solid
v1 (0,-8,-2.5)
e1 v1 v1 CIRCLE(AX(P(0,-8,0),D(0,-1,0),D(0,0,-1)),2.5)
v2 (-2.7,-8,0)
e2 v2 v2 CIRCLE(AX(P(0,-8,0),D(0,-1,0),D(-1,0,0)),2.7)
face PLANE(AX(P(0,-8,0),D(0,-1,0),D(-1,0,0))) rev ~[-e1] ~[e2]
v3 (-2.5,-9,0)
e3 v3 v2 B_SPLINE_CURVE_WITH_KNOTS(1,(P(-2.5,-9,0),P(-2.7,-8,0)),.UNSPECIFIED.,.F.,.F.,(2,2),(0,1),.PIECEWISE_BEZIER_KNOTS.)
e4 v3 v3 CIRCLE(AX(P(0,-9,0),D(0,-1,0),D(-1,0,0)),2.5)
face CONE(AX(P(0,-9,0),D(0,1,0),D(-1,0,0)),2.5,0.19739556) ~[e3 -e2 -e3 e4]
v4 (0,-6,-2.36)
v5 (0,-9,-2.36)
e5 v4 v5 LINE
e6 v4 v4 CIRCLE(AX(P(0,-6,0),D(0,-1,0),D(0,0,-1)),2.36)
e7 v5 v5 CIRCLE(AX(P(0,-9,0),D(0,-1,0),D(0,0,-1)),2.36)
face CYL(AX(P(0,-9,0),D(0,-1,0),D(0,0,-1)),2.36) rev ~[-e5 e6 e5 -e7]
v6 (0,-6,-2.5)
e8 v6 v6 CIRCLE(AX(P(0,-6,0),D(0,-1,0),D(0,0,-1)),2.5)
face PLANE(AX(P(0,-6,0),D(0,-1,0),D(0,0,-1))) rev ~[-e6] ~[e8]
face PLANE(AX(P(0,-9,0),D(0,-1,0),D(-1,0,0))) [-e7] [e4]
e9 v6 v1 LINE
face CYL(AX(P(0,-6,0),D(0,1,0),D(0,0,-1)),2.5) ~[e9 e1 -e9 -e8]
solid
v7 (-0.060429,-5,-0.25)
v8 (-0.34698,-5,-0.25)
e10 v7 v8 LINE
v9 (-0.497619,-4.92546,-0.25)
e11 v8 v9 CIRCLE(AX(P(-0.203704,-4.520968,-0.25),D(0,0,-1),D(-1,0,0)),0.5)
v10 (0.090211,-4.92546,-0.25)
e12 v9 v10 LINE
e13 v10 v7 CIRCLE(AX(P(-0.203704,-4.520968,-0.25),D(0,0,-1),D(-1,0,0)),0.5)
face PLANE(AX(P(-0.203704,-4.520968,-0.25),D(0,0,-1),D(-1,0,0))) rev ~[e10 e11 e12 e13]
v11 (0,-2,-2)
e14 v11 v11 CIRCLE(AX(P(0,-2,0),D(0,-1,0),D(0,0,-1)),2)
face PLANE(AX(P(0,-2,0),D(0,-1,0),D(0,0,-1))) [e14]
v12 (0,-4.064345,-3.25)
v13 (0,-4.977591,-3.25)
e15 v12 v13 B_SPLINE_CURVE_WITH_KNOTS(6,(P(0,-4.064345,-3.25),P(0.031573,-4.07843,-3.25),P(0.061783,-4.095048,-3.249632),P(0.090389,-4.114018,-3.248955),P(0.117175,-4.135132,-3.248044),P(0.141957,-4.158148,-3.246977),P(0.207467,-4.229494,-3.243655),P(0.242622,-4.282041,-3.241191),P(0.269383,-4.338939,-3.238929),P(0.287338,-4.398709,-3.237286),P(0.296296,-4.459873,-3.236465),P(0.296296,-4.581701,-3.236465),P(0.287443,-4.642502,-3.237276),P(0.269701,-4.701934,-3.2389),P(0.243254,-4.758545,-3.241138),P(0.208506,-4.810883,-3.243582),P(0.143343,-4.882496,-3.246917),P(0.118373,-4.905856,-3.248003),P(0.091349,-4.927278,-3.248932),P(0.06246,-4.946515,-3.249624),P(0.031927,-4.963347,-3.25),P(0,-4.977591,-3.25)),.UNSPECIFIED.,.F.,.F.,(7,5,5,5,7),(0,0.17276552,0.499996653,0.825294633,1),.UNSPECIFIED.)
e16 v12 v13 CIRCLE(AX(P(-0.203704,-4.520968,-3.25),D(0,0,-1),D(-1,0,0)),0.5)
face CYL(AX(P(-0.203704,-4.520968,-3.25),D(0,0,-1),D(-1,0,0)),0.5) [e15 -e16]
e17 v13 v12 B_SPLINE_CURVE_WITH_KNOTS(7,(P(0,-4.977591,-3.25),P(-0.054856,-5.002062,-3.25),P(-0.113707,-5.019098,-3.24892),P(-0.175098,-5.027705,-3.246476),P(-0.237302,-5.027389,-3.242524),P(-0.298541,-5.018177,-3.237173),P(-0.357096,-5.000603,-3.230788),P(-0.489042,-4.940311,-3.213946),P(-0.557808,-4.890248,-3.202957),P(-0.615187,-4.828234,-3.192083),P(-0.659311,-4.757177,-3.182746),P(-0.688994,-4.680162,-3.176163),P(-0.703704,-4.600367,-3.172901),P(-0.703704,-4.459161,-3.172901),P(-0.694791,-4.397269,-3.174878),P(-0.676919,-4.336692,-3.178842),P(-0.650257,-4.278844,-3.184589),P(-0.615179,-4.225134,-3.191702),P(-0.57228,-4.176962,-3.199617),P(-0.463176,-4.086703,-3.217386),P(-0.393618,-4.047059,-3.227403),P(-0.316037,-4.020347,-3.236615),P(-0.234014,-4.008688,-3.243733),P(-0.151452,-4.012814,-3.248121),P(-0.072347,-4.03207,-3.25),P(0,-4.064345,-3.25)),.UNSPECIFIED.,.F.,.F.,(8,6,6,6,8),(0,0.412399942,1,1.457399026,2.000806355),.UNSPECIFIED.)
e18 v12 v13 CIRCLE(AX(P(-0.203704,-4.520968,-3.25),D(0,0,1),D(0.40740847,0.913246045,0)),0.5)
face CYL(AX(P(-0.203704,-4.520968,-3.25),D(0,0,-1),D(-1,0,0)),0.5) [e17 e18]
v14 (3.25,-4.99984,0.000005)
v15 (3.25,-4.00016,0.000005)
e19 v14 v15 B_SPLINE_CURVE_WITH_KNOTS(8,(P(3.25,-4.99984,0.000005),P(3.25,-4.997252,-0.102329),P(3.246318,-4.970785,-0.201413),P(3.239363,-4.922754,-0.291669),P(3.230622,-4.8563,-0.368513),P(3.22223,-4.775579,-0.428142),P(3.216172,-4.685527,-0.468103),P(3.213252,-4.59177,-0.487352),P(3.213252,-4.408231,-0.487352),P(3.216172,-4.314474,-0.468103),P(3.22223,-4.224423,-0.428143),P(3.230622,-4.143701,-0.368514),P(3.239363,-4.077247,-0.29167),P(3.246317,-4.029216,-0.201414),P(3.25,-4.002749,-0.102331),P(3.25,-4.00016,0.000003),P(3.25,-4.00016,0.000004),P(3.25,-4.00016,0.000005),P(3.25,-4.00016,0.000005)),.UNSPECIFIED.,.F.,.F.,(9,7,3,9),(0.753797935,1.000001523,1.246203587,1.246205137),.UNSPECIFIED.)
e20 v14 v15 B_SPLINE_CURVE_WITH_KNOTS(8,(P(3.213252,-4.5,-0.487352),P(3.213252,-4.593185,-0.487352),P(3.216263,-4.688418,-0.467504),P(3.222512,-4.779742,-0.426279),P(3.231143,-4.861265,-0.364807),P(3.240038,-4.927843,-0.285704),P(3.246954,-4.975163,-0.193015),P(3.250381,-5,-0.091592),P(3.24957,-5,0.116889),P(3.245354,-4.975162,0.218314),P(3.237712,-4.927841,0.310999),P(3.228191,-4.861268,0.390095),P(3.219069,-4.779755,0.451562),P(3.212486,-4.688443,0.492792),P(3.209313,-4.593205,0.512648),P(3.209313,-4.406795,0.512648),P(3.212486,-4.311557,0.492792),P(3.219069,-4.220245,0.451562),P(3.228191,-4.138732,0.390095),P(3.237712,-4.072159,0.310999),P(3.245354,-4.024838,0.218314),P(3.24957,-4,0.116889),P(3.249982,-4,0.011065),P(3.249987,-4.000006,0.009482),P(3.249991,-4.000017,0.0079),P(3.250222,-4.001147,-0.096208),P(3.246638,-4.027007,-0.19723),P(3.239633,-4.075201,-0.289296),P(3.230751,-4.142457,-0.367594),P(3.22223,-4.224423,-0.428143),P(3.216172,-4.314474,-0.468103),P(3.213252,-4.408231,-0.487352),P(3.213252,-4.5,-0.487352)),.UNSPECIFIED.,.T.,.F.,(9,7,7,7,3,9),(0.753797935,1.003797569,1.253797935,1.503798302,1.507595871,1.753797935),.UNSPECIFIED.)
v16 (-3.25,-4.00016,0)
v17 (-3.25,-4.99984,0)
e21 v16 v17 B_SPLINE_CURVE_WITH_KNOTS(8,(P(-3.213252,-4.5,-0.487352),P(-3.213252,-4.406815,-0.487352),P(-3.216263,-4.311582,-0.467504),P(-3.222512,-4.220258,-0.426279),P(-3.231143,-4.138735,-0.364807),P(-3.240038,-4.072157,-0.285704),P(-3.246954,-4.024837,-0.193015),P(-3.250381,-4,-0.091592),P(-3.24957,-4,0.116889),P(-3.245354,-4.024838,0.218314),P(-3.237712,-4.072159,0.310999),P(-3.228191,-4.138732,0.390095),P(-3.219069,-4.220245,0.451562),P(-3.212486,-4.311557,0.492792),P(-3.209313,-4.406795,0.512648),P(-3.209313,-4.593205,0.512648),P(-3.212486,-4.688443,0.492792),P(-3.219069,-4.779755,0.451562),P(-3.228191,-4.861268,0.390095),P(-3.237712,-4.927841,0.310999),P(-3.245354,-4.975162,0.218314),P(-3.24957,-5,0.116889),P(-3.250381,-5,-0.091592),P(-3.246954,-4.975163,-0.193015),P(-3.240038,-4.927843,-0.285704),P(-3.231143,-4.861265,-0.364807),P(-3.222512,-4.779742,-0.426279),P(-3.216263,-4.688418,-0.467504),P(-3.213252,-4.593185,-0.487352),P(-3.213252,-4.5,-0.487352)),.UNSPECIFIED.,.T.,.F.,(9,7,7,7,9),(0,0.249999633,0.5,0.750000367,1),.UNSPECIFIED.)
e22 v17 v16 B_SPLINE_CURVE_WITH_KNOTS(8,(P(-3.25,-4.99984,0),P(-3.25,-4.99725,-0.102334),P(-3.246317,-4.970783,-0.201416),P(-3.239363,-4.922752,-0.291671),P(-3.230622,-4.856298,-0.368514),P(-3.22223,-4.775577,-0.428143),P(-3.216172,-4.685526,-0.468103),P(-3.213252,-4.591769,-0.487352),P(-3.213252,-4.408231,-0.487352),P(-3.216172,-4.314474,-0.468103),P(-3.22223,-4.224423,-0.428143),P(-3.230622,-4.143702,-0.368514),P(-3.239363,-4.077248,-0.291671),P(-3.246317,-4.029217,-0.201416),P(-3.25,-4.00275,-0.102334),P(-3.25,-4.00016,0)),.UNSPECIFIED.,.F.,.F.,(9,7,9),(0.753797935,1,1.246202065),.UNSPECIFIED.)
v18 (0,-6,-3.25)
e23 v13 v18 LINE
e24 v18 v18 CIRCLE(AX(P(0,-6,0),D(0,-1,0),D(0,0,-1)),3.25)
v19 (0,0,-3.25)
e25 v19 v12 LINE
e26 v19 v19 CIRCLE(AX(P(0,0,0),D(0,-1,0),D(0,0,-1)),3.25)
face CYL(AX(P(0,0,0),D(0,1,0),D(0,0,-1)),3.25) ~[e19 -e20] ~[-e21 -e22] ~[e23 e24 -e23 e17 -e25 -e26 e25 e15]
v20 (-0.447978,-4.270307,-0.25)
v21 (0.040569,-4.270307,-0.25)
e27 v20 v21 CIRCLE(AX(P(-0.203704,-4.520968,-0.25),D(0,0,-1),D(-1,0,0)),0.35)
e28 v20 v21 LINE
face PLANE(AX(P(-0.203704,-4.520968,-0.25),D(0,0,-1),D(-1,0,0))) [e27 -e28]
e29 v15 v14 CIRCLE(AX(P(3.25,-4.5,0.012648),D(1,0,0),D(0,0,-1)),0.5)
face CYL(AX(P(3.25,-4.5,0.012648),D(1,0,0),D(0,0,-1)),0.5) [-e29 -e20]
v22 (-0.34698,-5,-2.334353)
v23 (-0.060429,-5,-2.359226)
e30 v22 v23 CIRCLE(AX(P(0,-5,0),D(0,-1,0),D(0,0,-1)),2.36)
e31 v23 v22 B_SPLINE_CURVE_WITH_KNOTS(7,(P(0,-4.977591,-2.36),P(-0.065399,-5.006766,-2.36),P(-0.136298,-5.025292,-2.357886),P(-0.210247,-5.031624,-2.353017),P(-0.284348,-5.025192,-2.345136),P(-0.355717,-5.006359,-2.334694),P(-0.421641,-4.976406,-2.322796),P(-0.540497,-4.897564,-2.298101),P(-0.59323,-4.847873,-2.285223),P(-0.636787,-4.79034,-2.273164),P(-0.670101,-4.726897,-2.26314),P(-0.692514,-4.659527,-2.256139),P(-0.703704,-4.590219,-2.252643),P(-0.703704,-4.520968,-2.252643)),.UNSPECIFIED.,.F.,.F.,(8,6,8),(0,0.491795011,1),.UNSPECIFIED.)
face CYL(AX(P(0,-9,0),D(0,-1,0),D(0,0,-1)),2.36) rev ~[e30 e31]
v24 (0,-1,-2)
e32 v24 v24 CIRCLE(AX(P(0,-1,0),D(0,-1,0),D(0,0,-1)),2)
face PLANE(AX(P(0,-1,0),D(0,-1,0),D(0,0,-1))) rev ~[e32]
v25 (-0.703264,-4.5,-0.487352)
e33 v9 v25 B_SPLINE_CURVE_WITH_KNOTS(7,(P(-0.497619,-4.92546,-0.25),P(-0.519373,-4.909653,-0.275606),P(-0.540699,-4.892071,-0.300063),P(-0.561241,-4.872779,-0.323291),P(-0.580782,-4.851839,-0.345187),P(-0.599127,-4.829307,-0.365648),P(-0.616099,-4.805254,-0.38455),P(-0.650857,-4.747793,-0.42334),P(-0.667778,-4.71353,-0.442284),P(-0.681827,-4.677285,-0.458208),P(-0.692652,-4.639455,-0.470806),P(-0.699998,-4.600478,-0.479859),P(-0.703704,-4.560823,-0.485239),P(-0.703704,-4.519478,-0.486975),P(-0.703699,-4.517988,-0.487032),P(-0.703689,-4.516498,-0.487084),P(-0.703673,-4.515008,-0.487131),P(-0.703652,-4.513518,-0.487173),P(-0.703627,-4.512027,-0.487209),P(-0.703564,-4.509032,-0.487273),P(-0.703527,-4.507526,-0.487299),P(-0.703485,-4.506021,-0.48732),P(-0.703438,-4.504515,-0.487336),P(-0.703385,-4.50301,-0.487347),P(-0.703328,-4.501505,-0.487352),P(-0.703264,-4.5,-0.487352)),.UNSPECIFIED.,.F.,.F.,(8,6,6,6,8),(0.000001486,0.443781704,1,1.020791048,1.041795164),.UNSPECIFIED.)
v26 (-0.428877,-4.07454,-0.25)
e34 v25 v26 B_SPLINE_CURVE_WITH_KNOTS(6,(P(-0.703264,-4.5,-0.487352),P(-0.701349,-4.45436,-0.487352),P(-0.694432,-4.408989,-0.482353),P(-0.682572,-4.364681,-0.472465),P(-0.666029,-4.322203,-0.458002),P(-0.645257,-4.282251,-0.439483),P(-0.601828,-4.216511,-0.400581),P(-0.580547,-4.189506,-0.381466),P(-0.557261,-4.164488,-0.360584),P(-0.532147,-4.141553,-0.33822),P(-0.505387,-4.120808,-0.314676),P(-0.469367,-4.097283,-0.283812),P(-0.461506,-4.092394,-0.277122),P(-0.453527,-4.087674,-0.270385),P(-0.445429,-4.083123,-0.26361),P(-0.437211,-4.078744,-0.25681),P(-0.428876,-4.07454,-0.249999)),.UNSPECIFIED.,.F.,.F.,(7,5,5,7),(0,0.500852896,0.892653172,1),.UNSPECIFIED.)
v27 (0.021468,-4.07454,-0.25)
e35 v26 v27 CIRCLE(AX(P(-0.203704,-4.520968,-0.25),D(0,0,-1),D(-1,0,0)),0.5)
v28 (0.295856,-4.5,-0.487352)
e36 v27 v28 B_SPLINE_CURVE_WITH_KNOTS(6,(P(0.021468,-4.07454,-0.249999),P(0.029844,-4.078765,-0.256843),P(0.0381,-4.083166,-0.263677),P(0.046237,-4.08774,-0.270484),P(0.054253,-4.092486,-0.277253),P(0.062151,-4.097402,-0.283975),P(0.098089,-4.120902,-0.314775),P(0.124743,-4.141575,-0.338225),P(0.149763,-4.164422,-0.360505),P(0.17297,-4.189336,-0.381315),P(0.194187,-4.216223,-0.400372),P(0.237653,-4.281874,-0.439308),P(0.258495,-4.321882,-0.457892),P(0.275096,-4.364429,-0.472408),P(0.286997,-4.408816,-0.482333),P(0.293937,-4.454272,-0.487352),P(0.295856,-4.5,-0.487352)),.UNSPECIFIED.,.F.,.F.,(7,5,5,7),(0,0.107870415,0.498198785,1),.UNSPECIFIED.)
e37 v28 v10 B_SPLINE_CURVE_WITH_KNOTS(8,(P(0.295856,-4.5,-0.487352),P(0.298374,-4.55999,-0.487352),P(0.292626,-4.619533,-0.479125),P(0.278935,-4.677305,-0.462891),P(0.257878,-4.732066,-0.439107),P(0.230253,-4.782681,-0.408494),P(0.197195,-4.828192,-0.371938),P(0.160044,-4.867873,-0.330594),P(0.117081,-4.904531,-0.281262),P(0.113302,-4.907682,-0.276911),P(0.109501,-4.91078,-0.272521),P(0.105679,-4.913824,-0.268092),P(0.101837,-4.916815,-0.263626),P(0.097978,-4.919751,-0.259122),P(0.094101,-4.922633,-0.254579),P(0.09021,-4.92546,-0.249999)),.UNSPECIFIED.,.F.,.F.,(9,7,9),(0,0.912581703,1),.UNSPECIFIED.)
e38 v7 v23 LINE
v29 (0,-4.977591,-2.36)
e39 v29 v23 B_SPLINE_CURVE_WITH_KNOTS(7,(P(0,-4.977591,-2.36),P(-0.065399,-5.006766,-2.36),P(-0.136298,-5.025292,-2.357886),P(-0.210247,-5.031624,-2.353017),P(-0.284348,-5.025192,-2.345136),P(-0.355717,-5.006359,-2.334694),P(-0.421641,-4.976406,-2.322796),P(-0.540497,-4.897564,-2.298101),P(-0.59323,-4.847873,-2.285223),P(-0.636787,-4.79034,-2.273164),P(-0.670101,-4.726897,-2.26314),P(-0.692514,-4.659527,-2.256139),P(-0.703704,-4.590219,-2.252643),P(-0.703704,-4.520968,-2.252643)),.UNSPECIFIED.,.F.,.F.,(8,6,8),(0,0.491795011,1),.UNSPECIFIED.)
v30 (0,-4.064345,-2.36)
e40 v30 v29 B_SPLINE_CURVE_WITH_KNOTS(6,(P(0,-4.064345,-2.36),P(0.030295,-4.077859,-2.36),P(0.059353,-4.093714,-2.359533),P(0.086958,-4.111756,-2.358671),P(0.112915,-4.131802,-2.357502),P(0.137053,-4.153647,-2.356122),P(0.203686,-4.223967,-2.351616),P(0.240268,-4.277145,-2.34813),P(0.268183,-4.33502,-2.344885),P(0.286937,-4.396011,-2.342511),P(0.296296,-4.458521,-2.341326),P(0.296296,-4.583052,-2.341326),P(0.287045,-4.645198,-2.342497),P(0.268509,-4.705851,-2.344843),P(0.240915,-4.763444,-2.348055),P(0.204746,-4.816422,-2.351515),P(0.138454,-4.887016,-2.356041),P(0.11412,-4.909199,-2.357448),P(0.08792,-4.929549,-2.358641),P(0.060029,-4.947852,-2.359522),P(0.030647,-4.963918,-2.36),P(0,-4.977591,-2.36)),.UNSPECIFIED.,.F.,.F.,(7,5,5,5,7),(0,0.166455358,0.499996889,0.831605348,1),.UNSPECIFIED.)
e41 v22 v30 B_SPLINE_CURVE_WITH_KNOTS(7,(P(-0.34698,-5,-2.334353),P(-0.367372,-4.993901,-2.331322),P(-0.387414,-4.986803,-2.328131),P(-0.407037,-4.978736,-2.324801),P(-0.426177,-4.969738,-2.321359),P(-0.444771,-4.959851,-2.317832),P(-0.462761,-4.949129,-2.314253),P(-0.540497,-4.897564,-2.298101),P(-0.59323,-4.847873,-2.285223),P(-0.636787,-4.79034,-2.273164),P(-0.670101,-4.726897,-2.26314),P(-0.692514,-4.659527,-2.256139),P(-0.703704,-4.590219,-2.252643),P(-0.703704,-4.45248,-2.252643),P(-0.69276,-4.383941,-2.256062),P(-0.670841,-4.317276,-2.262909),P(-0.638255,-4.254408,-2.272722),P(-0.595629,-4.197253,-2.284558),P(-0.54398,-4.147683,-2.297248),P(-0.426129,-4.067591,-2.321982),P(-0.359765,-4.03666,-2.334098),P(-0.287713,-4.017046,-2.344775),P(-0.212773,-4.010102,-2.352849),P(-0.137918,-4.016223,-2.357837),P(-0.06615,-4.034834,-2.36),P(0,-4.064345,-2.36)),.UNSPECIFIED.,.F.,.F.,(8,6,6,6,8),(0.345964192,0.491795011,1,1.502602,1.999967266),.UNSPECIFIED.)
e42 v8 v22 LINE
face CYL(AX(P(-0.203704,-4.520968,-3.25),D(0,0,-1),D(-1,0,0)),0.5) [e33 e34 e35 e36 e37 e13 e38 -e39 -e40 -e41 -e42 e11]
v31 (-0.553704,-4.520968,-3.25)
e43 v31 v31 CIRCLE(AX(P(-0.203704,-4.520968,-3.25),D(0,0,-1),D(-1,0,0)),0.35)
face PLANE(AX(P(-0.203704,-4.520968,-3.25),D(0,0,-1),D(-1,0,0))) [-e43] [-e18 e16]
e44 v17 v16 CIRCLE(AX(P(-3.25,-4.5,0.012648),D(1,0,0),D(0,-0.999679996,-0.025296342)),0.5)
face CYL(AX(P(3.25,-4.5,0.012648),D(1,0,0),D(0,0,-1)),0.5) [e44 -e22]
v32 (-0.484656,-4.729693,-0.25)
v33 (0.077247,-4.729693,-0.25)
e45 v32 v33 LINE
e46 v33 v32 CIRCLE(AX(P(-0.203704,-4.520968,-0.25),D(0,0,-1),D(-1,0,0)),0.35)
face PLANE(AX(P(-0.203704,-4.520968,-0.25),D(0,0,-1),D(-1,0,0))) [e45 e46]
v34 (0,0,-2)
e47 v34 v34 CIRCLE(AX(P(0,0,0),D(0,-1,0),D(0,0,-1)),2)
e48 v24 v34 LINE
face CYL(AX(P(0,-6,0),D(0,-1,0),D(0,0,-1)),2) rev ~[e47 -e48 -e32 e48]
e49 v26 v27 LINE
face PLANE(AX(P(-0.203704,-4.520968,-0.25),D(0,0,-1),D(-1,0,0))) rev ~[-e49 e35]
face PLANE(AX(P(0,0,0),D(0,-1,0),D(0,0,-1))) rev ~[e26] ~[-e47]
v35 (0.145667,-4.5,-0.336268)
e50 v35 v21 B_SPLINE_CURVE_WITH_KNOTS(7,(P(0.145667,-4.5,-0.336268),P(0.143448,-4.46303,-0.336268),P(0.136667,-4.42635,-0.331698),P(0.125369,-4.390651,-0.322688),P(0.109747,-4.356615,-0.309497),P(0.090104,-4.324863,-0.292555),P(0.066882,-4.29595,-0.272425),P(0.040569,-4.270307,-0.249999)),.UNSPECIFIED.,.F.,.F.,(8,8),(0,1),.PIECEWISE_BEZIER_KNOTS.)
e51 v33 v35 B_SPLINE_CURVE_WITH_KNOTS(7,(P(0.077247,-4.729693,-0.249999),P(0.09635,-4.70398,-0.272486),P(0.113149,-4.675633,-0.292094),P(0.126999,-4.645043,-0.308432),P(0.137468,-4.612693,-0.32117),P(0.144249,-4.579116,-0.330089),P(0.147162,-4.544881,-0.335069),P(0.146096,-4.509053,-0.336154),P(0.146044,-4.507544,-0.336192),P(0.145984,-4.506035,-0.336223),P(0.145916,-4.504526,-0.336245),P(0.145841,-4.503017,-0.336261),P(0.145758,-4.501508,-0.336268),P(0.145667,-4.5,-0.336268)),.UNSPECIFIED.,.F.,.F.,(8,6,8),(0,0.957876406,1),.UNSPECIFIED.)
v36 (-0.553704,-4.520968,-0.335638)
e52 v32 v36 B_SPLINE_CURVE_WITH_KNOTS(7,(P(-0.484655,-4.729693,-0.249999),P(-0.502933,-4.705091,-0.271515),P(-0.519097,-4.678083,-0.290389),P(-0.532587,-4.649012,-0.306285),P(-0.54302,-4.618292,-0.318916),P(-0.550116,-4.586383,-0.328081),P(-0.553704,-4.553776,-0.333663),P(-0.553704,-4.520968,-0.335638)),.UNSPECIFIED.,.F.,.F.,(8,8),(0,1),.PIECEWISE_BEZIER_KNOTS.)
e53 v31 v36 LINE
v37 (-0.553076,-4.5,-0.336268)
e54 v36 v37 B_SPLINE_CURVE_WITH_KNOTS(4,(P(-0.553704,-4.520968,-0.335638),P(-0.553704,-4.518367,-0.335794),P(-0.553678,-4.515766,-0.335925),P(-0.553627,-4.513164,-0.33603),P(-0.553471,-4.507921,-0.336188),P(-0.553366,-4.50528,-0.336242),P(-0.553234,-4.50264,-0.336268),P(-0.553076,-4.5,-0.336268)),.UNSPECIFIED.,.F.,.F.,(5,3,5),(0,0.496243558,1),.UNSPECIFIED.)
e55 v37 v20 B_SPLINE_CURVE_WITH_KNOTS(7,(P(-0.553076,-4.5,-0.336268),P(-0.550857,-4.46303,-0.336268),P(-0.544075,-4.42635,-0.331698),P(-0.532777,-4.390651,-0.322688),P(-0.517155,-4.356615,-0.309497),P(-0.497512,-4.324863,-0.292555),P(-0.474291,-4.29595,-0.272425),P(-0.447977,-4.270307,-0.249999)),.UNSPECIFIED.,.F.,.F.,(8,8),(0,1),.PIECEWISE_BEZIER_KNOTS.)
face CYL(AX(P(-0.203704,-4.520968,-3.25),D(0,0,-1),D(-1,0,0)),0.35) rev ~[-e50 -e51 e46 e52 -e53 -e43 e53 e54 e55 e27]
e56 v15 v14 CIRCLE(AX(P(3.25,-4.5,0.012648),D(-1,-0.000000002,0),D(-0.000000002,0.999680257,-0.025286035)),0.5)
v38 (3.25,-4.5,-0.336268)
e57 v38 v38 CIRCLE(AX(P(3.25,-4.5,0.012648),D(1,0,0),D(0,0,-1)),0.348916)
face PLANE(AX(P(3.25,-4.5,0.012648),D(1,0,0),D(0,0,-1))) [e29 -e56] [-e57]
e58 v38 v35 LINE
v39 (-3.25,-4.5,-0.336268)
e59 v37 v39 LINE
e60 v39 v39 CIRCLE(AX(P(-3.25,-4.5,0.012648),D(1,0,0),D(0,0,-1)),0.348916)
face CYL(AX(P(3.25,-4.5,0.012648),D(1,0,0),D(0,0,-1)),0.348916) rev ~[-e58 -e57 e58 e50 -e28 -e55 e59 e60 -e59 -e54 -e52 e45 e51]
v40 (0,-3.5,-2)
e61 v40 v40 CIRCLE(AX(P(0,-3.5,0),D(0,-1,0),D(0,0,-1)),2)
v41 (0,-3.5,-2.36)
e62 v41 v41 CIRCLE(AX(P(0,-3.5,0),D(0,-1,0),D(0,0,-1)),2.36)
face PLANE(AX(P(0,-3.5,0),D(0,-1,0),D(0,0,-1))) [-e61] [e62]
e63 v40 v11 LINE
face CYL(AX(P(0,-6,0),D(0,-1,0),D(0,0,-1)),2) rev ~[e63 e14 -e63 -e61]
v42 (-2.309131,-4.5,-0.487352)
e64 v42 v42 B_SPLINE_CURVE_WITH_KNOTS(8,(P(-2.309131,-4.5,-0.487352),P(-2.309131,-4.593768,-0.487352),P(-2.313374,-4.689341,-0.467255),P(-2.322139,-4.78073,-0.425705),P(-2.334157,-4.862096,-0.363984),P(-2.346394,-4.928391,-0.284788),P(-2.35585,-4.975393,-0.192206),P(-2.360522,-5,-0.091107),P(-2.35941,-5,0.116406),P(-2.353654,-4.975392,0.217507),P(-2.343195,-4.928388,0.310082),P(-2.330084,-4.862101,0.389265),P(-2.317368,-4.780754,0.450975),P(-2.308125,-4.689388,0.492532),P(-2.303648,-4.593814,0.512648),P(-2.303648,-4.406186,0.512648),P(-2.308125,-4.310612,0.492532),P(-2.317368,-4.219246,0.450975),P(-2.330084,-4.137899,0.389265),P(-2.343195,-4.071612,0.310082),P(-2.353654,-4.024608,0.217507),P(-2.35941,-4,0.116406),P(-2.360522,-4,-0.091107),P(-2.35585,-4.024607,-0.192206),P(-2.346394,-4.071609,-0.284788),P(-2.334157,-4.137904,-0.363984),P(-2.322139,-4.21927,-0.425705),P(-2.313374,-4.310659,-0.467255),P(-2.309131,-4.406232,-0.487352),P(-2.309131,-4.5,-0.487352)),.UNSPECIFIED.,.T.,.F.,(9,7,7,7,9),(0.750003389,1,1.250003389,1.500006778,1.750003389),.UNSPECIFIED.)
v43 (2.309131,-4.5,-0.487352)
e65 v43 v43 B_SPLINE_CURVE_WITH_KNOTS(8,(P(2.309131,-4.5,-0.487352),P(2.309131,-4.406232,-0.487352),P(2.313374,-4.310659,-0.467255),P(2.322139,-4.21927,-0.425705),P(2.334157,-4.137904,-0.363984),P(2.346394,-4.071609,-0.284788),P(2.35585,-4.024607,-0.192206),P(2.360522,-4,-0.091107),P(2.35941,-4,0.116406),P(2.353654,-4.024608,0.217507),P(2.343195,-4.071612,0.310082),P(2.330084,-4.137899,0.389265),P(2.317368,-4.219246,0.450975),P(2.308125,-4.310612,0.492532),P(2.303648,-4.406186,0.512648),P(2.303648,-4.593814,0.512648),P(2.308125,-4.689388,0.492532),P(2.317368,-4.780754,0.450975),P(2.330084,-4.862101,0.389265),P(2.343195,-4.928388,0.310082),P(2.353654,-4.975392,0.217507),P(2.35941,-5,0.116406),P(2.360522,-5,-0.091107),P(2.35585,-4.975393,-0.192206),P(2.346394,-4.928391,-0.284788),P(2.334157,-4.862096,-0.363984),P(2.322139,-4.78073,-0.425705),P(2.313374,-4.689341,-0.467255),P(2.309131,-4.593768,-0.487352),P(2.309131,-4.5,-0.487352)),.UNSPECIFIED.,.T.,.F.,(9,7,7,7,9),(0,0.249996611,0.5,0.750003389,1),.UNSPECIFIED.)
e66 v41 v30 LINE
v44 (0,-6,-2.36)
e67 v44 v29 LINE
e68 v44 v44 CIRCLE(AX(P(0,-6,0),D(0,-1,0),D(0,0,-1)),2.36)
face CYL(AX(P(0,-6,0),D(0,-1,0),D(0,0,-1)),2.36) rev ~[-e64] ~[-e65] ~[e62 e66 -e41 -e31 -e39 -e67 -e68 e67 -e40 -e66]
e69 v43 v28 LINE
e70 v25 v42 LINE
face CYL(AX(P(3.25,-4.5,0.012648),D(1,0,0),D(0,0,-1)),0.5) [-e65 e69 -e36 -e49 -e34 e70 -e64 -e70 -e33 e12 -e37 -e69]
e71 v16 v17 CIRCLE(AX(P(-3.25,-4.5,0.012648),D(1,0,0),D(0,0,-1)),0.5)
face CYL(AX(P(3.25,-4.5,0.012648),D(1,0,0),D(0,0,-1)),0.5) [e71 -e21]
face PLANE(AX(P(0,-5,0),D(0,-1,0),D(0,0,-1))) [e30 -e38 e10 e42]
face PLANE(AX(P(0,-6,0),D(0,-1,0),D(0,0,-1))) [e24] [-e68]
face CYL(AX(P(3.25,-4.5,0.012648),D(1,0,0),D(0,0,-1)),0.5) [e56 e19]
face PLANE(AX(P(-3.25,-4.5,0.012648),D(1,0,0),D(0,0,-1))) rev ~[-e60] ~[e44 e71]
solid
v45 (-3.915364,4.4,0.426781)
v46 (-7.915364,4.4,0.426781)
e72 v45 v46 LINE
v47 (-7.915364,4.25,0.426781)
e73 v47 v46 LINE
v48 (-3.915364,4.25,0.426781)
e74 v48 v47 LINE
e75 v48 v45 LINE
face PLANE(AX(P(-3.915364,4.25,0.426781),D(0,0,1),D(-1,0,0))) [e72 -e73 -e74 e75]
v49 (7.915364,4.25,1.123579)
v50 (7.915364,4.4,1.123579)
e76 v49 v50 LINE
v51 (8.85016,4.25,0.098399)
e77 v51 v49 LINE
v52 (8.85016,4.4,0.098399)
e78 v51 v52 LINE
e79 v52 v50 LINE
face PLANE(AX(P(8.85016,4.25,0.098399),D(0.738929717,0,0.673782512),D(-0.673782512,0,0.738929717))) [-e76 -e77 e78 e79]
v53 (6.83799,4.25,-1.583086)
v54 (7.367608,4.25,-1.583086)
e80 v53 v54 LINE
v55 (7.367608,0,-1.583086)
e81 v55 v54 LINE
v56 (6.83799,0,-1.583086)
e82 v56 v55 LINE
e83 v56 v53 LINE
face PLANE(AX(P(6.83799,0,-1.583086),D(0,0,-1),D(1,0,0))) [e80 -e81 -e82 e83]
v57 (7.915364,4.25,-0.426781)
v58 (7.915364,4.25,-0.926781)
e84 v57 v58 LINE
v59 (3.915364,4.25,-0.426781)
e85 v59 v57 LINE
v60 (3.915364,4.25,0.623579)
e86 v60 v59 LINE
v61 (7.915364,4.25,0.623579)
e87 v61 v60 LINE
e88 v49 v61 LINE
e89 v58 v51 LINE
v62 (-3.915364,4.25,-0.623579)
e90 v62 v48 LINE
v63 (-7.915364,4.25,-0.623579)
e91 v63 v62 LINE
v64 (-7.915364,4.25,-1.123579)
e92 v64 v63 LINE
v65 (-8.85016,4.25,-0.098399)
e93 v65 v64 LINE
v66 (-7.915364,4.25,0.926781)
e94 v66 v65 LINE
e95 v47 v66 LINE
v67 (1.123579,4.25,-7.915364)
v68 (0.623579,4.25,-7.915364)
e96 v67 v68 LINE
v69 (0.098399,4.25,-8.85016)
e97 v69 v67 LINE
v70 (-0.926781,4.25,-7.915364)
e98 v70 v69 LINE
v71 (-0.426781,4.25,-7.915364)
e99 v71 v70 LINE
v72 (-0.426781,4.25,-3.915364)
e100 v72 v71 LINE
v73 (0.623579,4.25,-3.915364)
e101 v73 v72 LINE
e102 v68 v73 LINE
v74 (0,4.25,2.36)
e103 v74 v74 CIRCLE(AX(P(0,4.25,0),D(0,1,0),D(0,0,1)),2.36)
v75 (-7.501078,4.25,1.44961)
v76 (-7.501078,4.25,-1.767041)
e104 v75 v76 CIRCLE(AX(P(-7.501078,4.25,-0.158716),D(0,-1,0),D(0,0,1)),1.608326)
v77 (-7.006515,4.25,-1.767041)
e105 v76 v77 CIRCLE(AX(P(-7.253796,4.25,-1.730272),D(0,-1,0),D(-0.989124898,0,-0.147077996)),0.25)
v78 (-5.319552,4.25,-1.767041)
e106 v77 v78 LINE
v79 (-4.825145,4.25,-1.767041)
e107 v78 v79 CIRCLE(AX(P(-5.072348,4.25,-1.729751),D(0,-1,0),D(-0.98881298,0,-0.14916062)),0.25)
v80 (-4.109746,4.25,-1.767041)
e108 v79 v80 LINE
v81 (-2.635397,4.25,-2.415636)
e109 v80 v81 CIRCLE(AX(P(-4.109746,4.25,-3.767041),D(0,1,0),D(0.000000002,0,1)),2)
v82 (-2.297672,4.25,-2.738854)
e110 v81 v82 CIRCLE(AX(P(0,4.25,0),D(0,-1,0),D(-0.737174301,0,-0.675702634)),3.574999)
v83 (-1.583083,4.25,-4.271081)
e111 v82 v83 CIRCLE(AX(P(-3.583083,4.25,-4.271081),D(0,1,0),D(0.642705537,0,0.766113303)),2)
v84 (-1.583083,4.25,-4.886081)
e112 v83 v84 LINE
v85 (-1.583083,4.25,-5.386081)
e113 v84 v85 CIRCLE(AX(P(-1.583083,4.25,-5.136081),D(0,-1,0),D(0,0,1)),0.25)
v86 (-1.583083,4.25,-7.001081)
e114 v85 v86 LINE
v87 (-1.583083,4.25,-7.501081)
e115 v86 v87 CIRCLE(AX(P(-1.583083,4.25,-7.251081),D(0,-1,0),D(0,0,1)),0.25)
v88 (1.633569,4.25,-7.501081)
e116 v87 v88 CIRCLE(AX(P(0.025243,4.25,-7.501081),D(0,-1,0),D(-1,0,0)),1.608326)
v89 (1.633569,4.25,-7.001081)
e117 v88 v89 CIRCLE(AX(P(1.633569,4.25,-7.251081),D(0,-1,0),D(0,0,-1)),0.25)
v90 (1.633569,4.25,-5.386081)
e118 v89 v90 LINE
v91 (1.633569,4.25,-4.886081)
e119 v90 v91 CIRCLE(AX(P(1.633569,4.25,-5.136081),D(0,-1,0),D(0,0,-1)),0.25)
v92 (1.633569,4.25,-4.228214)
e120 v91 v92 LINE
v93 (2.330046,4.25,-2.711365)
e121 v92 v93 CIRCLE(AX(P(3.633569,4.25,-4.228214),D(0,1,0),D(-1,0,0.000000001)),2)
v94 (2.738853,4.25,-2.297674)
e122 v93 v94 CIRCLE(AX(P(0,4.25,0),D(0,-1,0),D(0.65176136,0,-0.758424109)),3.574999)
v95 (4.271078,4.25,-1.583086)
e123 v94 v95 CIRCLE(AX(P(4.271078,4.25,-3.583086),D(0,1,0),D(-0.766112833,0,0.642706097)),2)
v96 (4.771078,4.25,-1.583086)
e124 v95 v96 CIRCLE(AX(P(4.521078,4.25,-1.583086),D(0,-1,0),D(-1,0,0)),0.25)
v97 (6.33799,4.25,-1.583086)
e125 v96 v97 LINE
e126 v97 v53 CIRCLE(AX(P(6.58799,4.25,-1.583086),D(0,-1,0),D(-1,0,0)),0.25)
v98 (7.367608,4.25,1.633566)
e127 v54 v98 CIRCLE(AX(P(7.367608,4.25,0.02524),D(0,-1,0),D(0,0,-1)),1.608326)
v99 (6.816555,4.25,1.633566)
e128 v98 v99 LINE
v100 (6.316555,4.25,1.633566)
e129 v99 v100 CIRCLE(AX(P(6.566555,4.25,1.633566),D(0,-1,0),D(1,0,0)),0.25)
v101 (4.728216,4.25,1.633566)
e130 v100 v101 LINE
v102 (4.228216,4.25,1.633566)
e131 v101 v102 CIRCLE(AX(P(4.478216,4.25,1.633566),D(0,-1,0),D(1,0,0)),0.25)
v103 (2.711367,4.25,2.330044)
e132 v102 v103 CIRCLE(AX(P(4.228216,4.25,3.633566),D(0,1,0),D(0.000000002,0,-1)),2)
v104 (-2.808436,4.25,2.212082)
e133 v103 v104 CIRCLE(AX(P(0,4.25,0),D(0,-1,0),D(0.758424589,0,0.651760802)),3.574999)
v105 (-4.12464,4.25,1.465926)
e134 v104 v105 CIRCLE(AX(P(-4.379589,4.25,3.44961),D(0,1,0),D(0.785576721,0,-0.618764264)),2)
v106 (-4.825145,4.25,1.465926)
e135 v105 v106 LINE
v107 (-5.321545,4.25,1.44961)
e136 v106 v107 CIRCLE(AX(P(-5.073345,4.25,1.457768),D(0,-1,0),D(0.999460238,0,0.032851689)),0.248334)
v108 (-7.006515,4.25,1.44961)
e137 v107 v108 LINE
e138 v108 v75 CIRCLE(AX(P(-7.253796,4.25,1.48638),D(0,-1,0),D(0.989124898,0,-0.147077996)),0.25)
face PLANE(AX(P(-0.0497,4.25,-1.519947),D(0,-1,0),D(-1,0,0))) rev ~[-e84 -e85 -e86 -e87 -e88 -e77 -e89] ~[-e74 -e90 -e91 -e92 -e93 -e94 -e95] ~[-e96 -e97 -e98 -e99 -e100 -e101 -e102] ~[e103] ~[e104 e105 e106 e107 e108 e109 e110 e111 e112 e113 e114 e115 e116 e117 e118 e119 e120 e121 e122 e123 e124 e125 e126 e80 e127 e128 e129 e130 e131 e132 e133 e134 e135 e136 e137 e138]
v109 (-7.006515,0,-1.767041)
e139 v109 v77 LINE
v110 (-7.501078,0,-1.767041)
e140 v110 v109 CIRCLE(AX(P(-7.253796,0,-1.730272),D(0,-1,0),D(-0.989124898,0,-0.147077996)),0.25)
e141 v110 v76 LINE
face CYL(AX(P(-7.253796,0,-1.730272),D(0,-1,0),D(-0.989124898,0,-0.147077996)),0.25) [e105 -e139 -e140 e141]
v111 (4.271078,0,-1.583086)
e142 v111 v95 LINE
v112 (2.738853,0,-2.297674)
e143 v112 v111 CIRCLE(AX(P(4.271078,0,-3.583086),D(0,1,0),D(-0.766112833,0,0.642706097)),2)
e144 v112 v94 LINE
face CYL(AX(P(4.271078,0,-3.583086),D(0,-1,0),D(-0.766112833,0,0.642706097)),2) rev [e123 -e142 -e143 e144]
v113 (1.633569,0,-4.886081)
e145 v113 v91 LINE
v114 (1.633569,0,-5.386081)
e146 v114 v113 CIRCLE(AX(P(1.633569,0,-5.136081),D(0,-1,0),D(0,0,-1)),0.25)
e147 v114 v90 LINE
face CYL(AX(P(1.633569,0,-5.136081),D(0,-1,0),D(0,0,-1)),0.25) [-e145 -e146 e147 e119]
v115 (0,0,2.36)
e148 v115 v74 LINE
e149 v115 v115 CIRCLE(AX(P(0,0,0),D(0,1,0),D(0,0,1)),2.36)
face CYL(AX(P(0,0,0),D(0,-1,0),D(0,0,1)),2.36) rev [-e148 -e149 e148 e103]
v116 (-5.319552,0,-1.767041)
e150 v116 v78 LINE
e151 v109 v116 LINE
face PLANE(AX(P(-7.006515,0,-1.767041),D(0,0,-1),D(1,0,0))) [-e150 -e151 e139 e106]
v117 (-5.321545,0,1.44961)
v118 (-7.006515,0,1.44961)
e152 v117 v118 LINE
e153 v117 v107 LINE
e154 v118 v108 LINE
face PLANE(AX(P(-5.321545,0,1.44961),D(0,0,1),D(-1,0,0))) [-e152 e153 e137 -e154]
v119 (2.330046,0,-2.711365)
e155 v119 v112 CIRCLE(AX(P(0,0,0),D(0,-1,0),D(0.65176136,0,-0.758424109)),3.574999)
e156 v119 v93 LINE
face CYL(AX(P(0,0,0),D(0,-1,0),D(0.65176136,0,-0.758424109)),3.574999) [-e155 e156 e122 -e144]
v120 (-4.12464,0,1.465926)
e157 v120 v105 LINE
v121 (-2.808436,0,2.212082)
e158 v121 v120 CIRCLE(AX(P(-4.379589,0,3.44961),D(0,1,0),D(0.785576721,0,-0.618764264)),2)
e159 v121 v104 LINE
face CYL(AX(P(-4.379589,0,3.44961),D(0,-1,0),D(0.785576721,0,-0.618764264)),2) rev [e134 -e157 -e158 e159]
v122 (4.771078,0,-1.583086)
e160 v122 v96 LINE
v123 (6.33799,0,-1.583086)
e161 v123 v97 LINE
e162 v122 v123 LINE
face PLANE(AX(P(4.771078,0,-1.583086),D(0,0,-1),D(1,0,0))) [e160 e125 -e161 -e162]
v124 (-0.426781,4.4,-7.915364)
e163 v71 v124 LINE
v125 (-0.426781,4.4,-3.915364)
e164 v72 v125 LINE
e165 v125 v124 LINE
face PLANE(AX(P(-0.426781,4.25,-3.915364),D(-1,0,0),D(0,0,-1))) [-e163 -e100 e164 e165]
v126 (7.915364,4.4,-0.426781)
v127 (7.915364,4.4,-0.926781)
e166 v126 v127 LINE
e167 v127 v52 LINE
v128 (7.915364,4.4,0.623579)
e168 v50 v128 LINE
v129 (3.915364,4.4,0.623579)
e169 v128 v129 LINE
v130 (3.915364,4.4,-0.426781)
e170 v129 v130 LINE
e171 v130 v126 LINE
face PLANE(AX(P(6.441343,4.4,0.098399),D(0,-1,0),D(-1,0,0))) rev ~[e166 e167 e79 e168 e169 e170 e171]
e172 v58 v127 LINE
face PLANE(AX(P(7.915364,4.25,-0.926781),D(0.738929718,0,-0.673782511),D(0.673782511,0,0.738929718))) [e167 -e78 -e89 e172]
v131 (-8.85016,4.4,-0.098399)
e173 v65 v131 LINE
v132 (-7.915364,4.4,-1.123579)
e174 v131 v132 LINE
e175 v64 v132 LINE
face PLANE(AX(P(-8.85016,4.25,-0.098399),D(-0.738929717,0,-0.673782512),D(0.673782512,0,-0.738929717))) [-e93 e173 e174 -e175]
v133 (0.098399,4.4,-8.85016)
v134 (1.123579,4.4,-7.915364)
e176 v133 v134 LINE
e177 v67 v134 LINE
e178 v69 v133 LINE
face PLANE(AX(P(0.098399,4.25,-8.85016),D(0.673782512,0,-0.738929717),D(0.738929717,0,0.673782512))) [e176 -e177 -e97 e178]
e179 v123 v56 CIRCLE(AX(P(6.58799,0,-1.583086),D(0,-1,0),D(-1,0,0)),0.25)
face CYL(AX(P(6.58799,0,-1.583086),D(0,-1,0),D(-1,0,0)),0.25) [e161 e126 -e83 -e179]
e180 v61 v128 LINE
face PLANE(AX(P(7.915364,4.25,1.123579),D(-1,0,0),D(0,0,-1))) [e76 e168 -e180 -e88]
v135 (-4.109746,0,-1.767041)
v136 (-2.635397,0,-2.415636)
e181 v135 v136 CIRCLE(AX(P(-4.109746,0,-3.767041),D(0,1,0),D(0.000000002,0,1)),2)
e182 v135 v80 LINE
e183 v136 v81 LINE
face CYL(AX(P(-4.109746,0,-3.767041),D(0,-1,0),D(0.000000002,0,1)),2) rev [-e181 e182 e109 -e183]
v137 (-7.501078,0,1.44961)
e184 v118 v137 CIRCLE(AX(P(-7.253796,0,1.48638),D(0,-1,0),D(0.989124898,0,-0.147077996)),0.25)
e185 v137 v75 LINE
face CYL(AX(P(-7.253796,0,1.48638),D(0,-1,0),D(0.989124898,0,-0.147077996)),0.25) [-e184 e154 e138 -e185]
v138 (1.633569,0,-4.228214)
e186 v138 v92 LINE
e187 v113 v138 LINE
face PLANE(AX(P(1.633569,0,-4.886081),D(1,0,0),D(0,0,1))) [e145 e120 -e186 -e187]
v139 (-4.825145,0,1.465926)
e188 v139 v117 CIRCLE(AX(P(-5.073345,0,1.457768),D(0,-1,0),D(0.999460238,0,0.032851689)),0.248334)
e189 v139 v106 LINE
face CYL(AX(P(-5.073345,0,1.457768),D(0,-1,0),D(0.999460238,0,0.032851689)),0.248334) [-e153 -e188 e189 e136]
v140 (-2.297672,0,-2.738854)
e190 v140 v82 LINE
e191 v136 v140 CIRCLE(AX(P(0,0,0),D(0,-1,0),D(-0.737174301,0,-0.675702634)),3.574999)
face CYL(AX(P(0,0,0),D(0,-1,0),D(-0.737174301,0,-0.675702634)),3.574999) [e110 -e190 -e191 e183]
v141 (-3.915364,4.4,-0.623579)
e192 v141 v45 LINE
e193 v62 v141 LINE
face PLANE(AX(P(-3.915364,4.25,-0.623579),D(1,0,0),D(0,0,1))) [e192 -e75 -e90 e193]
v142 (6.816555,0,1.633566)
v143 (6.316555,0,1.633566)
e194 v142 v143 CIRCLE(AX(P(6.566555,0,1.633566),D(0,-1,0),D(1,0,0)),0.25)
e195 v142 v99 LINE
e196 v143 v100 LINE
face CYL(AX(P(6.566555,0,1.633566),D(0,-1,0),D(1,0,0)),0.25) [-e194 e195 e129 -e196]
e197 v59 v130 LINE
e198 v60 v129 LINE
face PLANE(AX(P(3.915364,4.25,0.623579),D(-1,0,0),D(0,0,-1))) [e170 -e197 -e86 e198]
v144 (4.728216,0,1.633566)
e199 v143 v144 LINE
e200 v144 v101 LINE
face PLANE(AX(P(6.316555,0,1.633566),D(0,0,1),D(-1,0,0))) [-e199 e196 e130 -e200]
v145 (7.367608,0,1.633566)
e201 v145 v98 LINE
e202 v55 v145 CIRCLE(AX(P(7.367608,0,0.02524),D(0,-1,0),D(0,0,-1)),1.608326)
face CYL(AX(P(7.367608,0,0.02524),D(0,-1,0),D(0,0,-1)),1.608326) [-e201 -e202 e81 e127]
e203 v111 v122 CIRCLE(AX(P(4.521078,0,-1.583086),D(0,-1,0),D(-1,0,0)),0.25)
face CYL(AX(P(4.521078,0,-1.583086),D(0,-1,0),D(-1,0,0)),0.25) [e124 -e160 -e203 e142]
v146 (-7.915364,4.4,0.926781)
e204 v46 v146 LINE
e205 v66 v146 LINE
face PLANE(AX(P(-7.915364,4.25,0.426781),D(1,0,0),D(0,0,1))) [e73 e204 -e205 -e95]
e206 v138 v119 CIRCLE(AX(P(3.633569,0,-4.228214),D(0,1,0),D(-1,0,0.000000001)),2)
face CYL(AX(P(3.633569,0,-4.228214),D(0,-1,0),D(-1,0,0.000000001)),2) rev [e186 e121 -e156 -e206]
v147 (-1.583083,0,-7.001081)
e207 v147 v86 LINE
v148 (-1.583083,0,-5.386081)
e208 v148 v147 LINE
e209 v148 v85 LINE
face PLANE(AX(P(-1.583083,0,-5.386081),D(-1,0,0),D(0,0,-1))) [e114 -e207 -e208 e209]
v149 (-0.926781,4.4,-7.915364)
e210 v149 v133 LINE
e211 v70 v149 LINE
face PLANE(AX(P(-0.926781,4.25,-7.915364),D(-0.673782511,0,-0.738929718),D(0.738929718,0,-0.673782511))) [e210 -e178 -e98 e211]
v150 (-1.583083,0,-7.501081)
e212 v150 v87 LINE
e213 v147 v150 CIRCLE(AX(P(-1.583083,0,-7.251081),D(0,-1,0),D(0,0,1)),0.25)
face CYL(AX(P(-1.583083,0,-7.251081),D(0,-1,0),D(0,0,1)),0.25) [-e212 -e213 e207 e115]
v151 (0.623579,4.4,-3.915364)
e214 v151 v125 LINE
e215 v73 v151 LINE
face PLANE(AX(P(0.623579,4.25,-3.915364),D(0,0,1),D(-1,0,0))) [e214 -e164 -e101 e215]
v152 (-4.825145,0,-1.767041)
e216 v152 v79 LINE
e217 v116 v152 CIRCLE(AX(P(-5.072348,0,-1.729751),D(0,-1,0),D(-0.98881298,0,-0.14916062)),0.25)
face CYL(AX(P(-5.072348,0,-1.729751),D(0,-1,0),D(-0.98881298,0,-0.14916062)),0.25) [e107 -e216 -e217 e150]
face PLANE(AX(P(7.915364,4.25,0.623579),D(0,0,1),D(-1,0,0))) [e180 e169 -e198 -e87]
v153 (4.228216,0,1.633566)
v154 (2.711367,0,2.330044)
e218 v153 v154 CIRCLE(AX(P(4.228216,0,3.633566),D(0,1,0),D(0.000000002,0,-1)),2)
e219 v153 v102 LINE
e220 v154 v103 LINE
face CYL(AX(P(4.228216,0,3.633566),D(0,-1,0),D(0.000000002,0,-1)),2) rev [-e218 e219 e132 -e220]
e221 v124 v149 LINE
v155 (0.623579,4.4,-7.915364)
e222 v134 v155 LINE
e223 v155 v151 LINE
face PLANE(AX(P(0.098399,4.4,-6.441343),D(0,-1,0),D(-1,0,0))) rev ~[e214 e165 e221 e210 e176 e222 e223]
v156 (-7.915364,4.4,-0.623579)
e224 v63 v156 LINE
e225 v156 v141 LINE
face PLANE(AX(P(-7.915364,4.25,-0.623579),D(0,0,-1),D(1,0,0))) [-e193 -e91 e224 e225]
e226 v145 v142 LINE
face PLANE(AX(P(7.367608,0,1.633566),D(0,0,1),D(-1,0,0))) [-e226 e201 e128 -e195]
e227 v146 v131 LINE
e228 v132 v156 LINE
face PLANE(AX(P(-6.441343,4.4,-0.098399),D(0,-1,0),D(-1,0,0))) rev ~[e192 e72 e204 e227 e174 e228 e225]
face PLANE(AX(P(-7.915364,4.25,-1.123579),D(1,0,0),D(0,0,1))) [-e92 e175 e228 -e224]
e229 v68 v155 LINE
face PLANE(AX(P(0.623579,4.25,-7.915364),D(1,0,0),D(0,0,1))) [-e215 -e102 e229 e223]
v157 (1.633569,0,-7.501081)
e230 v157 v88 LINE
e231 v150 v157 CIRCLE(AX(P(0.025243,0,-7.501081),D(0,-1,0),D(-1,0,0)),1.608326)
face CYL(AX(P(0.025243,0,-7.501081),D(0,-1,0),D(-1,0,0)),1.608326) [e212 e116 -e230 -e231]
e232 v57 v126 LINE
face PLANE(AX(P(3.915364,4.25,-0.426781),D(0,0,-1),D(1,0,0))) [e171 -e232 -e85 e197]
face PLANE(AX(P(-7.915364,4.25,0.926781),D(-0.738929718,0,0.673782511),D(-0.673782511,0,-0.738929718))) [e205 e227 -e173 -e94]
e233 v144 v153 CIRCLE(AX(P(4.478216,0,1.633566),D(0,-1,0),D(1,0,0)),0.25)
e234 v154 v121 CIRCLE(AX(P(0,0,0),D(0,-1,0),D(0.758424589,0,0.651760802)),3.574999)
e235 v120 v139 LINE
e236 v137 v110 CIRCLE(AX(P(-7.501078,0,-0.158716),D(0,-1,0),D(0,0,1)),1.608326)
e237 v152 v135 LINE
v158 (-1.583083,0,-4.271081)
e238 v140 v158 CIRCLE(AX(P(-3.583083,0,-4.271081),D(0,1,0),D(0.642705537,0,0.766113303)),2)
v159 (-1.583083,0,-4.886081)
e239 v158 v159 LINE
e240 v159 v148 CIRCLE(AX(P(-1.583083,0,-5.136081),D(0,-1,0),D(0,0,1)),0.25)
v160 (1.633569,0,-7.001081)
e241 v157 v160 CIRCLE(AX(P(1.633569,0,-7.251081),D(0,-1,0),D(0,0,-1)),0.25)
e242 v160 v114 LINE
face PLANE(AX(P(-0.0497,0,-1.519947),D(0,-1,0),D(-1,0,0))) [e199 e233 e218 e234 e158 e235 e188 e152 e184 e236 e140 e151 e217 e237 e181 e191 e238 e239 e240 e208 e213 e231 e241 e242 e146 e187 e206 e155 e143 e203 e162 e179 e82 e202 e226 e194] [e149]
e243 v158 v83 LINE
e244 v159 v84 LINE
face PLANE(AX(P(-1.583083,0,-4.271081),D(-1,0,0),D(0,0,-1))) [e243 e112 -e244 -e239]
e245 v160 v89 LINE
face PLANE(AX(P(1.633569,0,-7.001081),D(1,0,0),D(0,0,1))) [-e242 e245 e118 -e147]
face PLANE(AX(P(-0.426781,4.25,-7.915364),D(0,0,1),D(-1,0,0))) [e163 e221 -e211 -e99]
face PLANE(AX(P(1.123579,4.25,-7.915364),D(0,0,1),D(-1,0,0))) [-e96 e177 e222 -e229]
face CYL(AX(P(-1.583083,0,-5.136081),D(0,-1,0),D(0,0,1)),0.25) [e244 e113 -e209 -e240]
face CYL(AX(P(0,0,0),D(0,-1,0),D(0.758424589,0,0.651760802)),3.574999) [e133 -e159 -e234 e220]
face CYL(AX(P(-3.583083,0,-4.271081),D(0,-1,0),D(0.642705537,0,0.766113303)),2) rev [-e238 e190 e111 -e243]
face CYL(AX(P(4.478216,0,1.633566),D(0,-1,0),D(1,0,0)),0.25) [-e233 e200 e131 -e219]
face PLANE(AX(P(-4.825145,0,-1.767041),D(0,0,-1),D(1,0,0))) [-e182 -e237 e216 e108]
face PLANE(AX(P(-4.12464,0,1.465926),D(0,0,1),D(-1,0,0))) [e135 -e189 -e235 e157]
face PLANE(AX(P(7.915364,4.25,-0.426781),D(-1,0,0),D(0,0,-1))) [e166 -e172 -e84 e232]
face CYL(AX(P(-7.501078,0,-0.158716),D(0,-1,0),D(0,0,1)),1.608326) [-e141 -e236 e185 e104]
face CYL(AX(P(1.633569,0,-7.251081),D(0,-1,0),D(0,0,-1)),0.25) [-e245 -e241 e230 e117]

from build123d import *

# Parameters (mm, degrees)
SKETCH1_R            = 2.36
BOSS_EXTRUDE3_DEPTH  = 4.25
BOSS_EXTRUDE4_DEPTH  = 0.15
SKETCH6_R            = 3.25
BOSS_EXTRUDE5_DEPTH  = 6
SKETCH38_R           = 2
CUT_EXTRUDE22_DEPTH  = 17.556645736
SKETCH23_R           = 2.5
BOSS_EXTRUDE7_DEPTH  = 2
SKETCH25_R           = 2.5
SKETCH36_R           = 2.7
SKETCH14_R           = 2.36
CUT_EXTRUDE21_DEPTH  = 2.5
SKETCH10_R           = 0.5
CUT_EXTRUDE12_DEPTH  = 2
SKETCH17_R           = 0.5
BOSS_EXTRUDE11_DEPTH = 3
SKETCH10_7_R         = 0.5
BOSS_EXTRUDE12_DEPTH = 6.5
SKETCH32_R           = 0.348916491
CUT_EXTRUDE18_DEPTH  = 18.797082402
SKETCH34_R           = 0.35
CUT_EXTRUDE20_DEPTH  = 3
SKETCH39_R           = 2.36
CUT_EXTRUDE24_DEPTH  = 4
BOSS_EXTRUDE13_START = 1
SKETCH37_R           = 2.36
BOSS_EXTRUDE13_DEPTH = 1


with BuildPart() as part:
    # Sketch1 → Boss-Extrude3 (new body)
    with BuildSketch(Plane(origin=(0, 0, 0), x_dir=(1, 0, 0), z_dir=(0, 1, 0))):
        with BuildLine():
            Line((-1.58308264, 4.271080791), (-1.58308264, 4.886080791))
            ThreePointArc((-1.58308264, 4.886080791), (-1.83308264, 5.136080791), (-1.58308264, 5.386080791))
            Line((-1.58308264, 5.386080791), (-1.58308264, 7.001080791))
            ThreePointArc((-1.58308264, 7.001080791), (-1.83308264, 7.251080791), (-1.58308264, 7.501080791))
            ThreePointArc((-1.58308264, 7.501080791), (0.025243105, 9.109406536), (1.633568851, 7.501080791))
            ThreePointArc((1.633568851, 7.501080791), (1.883568851, 7.251080791), (1.633568851, 7.001080791))
            Line((1.633568851, 7.001080791), (1.633568851, 5.386080791))
            ThreePointArc((1.633568851, 5.386080791), (1.883568851, 5.136080791), (1.633568851, 4.886080791))
            Line((1.633568851, 4.886080791), (1.633568851, 4.228213539))
            ThreePointArc((1.633568851, 4.228213539), (1.8160093, 3.393661398), (2.330046128, 2.711365323))
            ThreePointArc((2.330046128, 2.711365323), (2.542876041, 2.512846656), (2.738852506, 2.297673568))
            ThreePointArc((2.738852506, 2.297673568), (3.425745216, 1.770515158), (4.271078172, 1.583085762))
            ThreePointArc((4.271078172, 1.583085762), (4.521078172, 1.833085762), (4.771078172, 1.583085762))
            Line((4.771078172, 1.583085762), (6.337990389, 1.583085762))
            ThreePointArc((6.337990389, 1.583085762), (6.587990389, 1.833085762), (6.837990389, 1.583085762))
            Line((6.837990389, 1.583085762), (7.367608221, 1.583085762))
            ThreePointArc((7.367608221, 1.583085762), (8.975933967, -0.025239984), (7.367608221, -1.63356573))
            Line((7.367608221, -1.63356573), (6.816554956, -1.63356573))
            ThreePointArc((6.816554956, -1.63356573), (6.566554956, -1.88356573), (6.316554956, -1.63356573))
            Line((6.316554956, -1.63356573), (4.728216222, -1.63356573))
            ThreePointArc((4.728216222, -1.63356573), (4.478216222, -1.88356573), (4.228216222, -1.63356573))
            ThreePointArc((4.228216222, -1.63356573), (3.393663409, -1.816006486), (2.711367044, -2.330044126))
            ThreePointArc((2.711367044, -2.330044126), (-0.076383132, -3.574182772), (-2.808435886, -2.212081542))
            ThreePointArc((-2.808435886, -2.212081542), (-3.393257828, -1.709739337), (-4.124639852, -1.465926436))
            Line((-4.124639852, -1.465926436), (-4.825145253, -1.465926436))
            ThreePointArc((-4.825145253, -1.465926436), (-5.081503124, -1.705967942), (-5.32154463, -1.449610071))
            Line((-5.32154463, -1.449610071), (-7.00651522, -1.449610071))
            ThreePointArc((-7.00651522, -1.449610071), (-7.253796444, -1.73637957), (-7.501077669, -1.449610071))
            ThreePointArc((-7.501077669, -1.449610071), (-9.109403415, 0.158715675), (-7.501077669, 1.76704142))
            ThreePointArc((-7.501077669, 1.76704142), (-7.253796444, 1.980271921), (-7.00651522, 1.76704142))
            Line((-7.00651522, 1.76704142), (-5.319551743, 1.76704142))
            ThreePointArc((-5.319551743, 1.76704142), (-5.072348498, 1.979751265), (-4.825145253, 1.76704142))
            Line((-4.825145253, 1.76704142), (-4.109745888, 1.76704142))
            ThreePointArc((-4.109745888, 1.76704142), (-3.304392096, 1.936357049), (-2.635397287, 2.415636151))
            ThreePointArc((-2.635397287, 2.415636151), (-2.471823123, 2.582771249), (-2.297671566, 2.738854186))
            ThreePointArc((-2.297671566, 2.738854186), (-1.770512345, 3.425747173), (-1.58308264, 4.271080791))
        make_face()
        Circle(SKETCH1_R, mode=Mode.SUBTRACT)
    extrude(amount=BOSS_EXTRUDE3_DEPTH)

    # Sketch3 → Boss-Extrude4 (add)
    with BuildSketch(Plane(origin=(0, 4.25, 0), x_dir=(1, 0, 0), z_dir=(0, 1, 0))):
        Polygon((-8.850160053, 0.098399174), (-7.915364191, 1.123579303), (-7.915364191, 0.623579303), (-3.915364191, 0.623579303), (-3.915364191, -0.426780956), (-7.915364191, -0.426780956), (-7.915364191, -0.926780956), align=None)
        Polygon((0.623579303, 7.915364191), (0.623579303, 3.915364191), (-0.426780956, 3.915364191), (-0.426780956, 7.915364191), (-0.926780956, 7.915364191), (0.098399174, 8.850160053), (1.123579303, 7.915364191), align=None)
        Polygon((7.915364191, -0.623579303), (3.915364191, -0.623579303), (3.915364191, 0.426780956), (7.915364191, 0.426780956), (7.915364191, 0.926780956), (8.850160053, -0.098399174), (7.915364191, -1.123579303), align=None)
    extrude(amount=BOSS_EXTRUDE4_DEPTH)


with BuildPart() as body_2:
    # Sketch6 → Boss-Extrude5 (new body)
    with BuildSketch(Plane(origin=(0, 0, 0), x_dir=(-1, 0, 0), z_dir=(0, -1, 0))):
        Circle(SKETCH6_R)
    extrude(amount=BOSS_EXTRUDE5_DEPTH)

    # Sketch38 → Cut-Extrude22 (cut, through all)
    with BuildSketch(Plane.XZ.offset(6)):
        Circle(SKETCH38_R)
    extrude(amount=-CUT_EXTRUDE22_DEPTH, mode=Mode.SUBTRACT)


with BuildPart() as body_3:
    # Sketch23 → Boss-Extrude7 (new body)
    with BuildSketch(Plane(origin=(0, -6, 0), x_dir=(-1, 0, 0), z_dir=(0, -1, 0))):
        Circle(SKETCH23_R)
    extrude(amount=BOSS_EXTRUDE7_DEPTH)

    # Sketch25 → Loft3 section 0
    with BuildSketch(Plane(origin=(0, -9, 0), x_dir=(-1, 0, 0), z_dir=(0, -1, 0))):
        Circle(SKETCH25_R)
    # Sketch36 → Loft3 section 1
    with BuildSketch(Plane(origin=(0, -8, 0), x_dir=(-1, 0, 0), z_dir=(0, -1, 0))):
        Circle(SKETCH36_R)
    loft()


with BuildPart() as cut_extrude21_tool:
    # Sketch14 → Cut-Extrude21 (new, symmetric)
    with BuildSketch(Plane.XZ.offset(6)):
        Circle(SKETCH14_R)
    extrude(amount=CUT_EXTRUDE21_DEPTH, both=True)


with BuildPart() as body_2_1:
    add(body_2.part)

    # Cut-Extrude21: cut by cut_extrude21_tool
    add(cut_extrude21_tool.part, mode=Mode.SUBTRACT)

    # Sketch10 → Cut-Extrude12 (cut)
    with BuildSketch(Plane(origin=(3.25, 0, 0), x_dir=(0, 0, -1), z_dir=(1, 0, 0))):
        with Locations((-0.012648171, -4.5)):
            Circle(SKETCH10_R)
    extrude(amount=-CUT_EXTRUDE12_DEPTH, mode=Mode.SUBTRACT)

    # Sketch17 → Boss-Extrude11 (add)
    with BuildSketch(Plane(origin=(0.10876296, 0.262318781, -3.25), x_dir=(-1, 0, 0), z_dir=(0, 0, -1))):
        with Locations((0.312467195, -4.783286307)):
            Circle(SKETCH17_R)
    extrude(amount=-BOSS_EXTRUDE11_DEPTH)

    # Sketch10<7> → Boss-Extrude12 (add)
    with BuildSketch(Plane(origin=(3.25, 0, 0), x_dir=(0, 0, -1), z_dir=(1, 0, 0))):
        with Locations((-0.012648171, -4.5)):
            Circle(SKETCH10_7_R)
    extrude(amount=-BOSS_EXTRUDE12_DEPTH)

    # Sketch32 → Cut-Extrude18 (cut, through all)
    with BuildSketch(Plane(origin=(3.25, 0, 0), x_dir=(0, 0, -1), z_dir=(1, 0, 0))):
        with Locations((-0.012648171, -4.5)):
            Circle(SKETCH32_R)
    extrude(amount=-CUT_EXTRUDE18_DEPTH, mode=Mode.SUBTRACT)

    # Sketch34 → Cut-Extrude20 (cut)
    with BuildSketch(Plane(origin=(0, 0, -3.25), x_dir=(-1, 0, 0), z_dir=(0, 0, -1))):
        with Locations((0.203704234, -4.520967526)):
            Circle(SKETCH34_R)
    extrude(amount=-CUT_EXTRUDE20_DEPTH, mode=Mode.SUBTRACT)


with BuildPart() as body_3_1:
    add(body_3.part)

    # Cut-Extrude21: cut by cut_extrude21_tool
    add(cut_extrude21_tool.part, mode=Mode.SUBTRACT)


with BuildPart() as cut_extrude24_tool:
    # Sketch39 → Cut-Extrude24 (new, symmetric)
    with BuildSketch(Plane.XZ.offset(9)):
        Circle(SKETCH39_R)
    extrude(amount=CUT_EXTRUDE24_DEPTH, both=True)


with BuildPart() as body_2_2:
    add(body_2_1.part)

    # Cut-Extrude24: cut by cut_extrude24_tool
    add(cut_extrude24_tool.part, mode=Mode.SUBTRACT)

    # Sketch37 → Boss-Extrude13 (add)
    with BuildSketch(Plane(origin=(0, -1, 0), x_dir=(-1, 0, 0), z_dir=(0, -1, 0)).offset(BOSS_EXTRUDE13_START)):
        Circle(SKETCH37_R)
    extrude(amount=-BOSS_EXTRUDE13_DEPTH)


with BuildPart() as body_3_2:
    add(body_3_1.part)

    # Cut-Extrude24: cut by cut_extrude24_tool
    add(cut_extrude24_tool.part, mode=Mode.SUBTRACT)


solid = Compound([part.part, body_2_2.part, body_3_2.part])
